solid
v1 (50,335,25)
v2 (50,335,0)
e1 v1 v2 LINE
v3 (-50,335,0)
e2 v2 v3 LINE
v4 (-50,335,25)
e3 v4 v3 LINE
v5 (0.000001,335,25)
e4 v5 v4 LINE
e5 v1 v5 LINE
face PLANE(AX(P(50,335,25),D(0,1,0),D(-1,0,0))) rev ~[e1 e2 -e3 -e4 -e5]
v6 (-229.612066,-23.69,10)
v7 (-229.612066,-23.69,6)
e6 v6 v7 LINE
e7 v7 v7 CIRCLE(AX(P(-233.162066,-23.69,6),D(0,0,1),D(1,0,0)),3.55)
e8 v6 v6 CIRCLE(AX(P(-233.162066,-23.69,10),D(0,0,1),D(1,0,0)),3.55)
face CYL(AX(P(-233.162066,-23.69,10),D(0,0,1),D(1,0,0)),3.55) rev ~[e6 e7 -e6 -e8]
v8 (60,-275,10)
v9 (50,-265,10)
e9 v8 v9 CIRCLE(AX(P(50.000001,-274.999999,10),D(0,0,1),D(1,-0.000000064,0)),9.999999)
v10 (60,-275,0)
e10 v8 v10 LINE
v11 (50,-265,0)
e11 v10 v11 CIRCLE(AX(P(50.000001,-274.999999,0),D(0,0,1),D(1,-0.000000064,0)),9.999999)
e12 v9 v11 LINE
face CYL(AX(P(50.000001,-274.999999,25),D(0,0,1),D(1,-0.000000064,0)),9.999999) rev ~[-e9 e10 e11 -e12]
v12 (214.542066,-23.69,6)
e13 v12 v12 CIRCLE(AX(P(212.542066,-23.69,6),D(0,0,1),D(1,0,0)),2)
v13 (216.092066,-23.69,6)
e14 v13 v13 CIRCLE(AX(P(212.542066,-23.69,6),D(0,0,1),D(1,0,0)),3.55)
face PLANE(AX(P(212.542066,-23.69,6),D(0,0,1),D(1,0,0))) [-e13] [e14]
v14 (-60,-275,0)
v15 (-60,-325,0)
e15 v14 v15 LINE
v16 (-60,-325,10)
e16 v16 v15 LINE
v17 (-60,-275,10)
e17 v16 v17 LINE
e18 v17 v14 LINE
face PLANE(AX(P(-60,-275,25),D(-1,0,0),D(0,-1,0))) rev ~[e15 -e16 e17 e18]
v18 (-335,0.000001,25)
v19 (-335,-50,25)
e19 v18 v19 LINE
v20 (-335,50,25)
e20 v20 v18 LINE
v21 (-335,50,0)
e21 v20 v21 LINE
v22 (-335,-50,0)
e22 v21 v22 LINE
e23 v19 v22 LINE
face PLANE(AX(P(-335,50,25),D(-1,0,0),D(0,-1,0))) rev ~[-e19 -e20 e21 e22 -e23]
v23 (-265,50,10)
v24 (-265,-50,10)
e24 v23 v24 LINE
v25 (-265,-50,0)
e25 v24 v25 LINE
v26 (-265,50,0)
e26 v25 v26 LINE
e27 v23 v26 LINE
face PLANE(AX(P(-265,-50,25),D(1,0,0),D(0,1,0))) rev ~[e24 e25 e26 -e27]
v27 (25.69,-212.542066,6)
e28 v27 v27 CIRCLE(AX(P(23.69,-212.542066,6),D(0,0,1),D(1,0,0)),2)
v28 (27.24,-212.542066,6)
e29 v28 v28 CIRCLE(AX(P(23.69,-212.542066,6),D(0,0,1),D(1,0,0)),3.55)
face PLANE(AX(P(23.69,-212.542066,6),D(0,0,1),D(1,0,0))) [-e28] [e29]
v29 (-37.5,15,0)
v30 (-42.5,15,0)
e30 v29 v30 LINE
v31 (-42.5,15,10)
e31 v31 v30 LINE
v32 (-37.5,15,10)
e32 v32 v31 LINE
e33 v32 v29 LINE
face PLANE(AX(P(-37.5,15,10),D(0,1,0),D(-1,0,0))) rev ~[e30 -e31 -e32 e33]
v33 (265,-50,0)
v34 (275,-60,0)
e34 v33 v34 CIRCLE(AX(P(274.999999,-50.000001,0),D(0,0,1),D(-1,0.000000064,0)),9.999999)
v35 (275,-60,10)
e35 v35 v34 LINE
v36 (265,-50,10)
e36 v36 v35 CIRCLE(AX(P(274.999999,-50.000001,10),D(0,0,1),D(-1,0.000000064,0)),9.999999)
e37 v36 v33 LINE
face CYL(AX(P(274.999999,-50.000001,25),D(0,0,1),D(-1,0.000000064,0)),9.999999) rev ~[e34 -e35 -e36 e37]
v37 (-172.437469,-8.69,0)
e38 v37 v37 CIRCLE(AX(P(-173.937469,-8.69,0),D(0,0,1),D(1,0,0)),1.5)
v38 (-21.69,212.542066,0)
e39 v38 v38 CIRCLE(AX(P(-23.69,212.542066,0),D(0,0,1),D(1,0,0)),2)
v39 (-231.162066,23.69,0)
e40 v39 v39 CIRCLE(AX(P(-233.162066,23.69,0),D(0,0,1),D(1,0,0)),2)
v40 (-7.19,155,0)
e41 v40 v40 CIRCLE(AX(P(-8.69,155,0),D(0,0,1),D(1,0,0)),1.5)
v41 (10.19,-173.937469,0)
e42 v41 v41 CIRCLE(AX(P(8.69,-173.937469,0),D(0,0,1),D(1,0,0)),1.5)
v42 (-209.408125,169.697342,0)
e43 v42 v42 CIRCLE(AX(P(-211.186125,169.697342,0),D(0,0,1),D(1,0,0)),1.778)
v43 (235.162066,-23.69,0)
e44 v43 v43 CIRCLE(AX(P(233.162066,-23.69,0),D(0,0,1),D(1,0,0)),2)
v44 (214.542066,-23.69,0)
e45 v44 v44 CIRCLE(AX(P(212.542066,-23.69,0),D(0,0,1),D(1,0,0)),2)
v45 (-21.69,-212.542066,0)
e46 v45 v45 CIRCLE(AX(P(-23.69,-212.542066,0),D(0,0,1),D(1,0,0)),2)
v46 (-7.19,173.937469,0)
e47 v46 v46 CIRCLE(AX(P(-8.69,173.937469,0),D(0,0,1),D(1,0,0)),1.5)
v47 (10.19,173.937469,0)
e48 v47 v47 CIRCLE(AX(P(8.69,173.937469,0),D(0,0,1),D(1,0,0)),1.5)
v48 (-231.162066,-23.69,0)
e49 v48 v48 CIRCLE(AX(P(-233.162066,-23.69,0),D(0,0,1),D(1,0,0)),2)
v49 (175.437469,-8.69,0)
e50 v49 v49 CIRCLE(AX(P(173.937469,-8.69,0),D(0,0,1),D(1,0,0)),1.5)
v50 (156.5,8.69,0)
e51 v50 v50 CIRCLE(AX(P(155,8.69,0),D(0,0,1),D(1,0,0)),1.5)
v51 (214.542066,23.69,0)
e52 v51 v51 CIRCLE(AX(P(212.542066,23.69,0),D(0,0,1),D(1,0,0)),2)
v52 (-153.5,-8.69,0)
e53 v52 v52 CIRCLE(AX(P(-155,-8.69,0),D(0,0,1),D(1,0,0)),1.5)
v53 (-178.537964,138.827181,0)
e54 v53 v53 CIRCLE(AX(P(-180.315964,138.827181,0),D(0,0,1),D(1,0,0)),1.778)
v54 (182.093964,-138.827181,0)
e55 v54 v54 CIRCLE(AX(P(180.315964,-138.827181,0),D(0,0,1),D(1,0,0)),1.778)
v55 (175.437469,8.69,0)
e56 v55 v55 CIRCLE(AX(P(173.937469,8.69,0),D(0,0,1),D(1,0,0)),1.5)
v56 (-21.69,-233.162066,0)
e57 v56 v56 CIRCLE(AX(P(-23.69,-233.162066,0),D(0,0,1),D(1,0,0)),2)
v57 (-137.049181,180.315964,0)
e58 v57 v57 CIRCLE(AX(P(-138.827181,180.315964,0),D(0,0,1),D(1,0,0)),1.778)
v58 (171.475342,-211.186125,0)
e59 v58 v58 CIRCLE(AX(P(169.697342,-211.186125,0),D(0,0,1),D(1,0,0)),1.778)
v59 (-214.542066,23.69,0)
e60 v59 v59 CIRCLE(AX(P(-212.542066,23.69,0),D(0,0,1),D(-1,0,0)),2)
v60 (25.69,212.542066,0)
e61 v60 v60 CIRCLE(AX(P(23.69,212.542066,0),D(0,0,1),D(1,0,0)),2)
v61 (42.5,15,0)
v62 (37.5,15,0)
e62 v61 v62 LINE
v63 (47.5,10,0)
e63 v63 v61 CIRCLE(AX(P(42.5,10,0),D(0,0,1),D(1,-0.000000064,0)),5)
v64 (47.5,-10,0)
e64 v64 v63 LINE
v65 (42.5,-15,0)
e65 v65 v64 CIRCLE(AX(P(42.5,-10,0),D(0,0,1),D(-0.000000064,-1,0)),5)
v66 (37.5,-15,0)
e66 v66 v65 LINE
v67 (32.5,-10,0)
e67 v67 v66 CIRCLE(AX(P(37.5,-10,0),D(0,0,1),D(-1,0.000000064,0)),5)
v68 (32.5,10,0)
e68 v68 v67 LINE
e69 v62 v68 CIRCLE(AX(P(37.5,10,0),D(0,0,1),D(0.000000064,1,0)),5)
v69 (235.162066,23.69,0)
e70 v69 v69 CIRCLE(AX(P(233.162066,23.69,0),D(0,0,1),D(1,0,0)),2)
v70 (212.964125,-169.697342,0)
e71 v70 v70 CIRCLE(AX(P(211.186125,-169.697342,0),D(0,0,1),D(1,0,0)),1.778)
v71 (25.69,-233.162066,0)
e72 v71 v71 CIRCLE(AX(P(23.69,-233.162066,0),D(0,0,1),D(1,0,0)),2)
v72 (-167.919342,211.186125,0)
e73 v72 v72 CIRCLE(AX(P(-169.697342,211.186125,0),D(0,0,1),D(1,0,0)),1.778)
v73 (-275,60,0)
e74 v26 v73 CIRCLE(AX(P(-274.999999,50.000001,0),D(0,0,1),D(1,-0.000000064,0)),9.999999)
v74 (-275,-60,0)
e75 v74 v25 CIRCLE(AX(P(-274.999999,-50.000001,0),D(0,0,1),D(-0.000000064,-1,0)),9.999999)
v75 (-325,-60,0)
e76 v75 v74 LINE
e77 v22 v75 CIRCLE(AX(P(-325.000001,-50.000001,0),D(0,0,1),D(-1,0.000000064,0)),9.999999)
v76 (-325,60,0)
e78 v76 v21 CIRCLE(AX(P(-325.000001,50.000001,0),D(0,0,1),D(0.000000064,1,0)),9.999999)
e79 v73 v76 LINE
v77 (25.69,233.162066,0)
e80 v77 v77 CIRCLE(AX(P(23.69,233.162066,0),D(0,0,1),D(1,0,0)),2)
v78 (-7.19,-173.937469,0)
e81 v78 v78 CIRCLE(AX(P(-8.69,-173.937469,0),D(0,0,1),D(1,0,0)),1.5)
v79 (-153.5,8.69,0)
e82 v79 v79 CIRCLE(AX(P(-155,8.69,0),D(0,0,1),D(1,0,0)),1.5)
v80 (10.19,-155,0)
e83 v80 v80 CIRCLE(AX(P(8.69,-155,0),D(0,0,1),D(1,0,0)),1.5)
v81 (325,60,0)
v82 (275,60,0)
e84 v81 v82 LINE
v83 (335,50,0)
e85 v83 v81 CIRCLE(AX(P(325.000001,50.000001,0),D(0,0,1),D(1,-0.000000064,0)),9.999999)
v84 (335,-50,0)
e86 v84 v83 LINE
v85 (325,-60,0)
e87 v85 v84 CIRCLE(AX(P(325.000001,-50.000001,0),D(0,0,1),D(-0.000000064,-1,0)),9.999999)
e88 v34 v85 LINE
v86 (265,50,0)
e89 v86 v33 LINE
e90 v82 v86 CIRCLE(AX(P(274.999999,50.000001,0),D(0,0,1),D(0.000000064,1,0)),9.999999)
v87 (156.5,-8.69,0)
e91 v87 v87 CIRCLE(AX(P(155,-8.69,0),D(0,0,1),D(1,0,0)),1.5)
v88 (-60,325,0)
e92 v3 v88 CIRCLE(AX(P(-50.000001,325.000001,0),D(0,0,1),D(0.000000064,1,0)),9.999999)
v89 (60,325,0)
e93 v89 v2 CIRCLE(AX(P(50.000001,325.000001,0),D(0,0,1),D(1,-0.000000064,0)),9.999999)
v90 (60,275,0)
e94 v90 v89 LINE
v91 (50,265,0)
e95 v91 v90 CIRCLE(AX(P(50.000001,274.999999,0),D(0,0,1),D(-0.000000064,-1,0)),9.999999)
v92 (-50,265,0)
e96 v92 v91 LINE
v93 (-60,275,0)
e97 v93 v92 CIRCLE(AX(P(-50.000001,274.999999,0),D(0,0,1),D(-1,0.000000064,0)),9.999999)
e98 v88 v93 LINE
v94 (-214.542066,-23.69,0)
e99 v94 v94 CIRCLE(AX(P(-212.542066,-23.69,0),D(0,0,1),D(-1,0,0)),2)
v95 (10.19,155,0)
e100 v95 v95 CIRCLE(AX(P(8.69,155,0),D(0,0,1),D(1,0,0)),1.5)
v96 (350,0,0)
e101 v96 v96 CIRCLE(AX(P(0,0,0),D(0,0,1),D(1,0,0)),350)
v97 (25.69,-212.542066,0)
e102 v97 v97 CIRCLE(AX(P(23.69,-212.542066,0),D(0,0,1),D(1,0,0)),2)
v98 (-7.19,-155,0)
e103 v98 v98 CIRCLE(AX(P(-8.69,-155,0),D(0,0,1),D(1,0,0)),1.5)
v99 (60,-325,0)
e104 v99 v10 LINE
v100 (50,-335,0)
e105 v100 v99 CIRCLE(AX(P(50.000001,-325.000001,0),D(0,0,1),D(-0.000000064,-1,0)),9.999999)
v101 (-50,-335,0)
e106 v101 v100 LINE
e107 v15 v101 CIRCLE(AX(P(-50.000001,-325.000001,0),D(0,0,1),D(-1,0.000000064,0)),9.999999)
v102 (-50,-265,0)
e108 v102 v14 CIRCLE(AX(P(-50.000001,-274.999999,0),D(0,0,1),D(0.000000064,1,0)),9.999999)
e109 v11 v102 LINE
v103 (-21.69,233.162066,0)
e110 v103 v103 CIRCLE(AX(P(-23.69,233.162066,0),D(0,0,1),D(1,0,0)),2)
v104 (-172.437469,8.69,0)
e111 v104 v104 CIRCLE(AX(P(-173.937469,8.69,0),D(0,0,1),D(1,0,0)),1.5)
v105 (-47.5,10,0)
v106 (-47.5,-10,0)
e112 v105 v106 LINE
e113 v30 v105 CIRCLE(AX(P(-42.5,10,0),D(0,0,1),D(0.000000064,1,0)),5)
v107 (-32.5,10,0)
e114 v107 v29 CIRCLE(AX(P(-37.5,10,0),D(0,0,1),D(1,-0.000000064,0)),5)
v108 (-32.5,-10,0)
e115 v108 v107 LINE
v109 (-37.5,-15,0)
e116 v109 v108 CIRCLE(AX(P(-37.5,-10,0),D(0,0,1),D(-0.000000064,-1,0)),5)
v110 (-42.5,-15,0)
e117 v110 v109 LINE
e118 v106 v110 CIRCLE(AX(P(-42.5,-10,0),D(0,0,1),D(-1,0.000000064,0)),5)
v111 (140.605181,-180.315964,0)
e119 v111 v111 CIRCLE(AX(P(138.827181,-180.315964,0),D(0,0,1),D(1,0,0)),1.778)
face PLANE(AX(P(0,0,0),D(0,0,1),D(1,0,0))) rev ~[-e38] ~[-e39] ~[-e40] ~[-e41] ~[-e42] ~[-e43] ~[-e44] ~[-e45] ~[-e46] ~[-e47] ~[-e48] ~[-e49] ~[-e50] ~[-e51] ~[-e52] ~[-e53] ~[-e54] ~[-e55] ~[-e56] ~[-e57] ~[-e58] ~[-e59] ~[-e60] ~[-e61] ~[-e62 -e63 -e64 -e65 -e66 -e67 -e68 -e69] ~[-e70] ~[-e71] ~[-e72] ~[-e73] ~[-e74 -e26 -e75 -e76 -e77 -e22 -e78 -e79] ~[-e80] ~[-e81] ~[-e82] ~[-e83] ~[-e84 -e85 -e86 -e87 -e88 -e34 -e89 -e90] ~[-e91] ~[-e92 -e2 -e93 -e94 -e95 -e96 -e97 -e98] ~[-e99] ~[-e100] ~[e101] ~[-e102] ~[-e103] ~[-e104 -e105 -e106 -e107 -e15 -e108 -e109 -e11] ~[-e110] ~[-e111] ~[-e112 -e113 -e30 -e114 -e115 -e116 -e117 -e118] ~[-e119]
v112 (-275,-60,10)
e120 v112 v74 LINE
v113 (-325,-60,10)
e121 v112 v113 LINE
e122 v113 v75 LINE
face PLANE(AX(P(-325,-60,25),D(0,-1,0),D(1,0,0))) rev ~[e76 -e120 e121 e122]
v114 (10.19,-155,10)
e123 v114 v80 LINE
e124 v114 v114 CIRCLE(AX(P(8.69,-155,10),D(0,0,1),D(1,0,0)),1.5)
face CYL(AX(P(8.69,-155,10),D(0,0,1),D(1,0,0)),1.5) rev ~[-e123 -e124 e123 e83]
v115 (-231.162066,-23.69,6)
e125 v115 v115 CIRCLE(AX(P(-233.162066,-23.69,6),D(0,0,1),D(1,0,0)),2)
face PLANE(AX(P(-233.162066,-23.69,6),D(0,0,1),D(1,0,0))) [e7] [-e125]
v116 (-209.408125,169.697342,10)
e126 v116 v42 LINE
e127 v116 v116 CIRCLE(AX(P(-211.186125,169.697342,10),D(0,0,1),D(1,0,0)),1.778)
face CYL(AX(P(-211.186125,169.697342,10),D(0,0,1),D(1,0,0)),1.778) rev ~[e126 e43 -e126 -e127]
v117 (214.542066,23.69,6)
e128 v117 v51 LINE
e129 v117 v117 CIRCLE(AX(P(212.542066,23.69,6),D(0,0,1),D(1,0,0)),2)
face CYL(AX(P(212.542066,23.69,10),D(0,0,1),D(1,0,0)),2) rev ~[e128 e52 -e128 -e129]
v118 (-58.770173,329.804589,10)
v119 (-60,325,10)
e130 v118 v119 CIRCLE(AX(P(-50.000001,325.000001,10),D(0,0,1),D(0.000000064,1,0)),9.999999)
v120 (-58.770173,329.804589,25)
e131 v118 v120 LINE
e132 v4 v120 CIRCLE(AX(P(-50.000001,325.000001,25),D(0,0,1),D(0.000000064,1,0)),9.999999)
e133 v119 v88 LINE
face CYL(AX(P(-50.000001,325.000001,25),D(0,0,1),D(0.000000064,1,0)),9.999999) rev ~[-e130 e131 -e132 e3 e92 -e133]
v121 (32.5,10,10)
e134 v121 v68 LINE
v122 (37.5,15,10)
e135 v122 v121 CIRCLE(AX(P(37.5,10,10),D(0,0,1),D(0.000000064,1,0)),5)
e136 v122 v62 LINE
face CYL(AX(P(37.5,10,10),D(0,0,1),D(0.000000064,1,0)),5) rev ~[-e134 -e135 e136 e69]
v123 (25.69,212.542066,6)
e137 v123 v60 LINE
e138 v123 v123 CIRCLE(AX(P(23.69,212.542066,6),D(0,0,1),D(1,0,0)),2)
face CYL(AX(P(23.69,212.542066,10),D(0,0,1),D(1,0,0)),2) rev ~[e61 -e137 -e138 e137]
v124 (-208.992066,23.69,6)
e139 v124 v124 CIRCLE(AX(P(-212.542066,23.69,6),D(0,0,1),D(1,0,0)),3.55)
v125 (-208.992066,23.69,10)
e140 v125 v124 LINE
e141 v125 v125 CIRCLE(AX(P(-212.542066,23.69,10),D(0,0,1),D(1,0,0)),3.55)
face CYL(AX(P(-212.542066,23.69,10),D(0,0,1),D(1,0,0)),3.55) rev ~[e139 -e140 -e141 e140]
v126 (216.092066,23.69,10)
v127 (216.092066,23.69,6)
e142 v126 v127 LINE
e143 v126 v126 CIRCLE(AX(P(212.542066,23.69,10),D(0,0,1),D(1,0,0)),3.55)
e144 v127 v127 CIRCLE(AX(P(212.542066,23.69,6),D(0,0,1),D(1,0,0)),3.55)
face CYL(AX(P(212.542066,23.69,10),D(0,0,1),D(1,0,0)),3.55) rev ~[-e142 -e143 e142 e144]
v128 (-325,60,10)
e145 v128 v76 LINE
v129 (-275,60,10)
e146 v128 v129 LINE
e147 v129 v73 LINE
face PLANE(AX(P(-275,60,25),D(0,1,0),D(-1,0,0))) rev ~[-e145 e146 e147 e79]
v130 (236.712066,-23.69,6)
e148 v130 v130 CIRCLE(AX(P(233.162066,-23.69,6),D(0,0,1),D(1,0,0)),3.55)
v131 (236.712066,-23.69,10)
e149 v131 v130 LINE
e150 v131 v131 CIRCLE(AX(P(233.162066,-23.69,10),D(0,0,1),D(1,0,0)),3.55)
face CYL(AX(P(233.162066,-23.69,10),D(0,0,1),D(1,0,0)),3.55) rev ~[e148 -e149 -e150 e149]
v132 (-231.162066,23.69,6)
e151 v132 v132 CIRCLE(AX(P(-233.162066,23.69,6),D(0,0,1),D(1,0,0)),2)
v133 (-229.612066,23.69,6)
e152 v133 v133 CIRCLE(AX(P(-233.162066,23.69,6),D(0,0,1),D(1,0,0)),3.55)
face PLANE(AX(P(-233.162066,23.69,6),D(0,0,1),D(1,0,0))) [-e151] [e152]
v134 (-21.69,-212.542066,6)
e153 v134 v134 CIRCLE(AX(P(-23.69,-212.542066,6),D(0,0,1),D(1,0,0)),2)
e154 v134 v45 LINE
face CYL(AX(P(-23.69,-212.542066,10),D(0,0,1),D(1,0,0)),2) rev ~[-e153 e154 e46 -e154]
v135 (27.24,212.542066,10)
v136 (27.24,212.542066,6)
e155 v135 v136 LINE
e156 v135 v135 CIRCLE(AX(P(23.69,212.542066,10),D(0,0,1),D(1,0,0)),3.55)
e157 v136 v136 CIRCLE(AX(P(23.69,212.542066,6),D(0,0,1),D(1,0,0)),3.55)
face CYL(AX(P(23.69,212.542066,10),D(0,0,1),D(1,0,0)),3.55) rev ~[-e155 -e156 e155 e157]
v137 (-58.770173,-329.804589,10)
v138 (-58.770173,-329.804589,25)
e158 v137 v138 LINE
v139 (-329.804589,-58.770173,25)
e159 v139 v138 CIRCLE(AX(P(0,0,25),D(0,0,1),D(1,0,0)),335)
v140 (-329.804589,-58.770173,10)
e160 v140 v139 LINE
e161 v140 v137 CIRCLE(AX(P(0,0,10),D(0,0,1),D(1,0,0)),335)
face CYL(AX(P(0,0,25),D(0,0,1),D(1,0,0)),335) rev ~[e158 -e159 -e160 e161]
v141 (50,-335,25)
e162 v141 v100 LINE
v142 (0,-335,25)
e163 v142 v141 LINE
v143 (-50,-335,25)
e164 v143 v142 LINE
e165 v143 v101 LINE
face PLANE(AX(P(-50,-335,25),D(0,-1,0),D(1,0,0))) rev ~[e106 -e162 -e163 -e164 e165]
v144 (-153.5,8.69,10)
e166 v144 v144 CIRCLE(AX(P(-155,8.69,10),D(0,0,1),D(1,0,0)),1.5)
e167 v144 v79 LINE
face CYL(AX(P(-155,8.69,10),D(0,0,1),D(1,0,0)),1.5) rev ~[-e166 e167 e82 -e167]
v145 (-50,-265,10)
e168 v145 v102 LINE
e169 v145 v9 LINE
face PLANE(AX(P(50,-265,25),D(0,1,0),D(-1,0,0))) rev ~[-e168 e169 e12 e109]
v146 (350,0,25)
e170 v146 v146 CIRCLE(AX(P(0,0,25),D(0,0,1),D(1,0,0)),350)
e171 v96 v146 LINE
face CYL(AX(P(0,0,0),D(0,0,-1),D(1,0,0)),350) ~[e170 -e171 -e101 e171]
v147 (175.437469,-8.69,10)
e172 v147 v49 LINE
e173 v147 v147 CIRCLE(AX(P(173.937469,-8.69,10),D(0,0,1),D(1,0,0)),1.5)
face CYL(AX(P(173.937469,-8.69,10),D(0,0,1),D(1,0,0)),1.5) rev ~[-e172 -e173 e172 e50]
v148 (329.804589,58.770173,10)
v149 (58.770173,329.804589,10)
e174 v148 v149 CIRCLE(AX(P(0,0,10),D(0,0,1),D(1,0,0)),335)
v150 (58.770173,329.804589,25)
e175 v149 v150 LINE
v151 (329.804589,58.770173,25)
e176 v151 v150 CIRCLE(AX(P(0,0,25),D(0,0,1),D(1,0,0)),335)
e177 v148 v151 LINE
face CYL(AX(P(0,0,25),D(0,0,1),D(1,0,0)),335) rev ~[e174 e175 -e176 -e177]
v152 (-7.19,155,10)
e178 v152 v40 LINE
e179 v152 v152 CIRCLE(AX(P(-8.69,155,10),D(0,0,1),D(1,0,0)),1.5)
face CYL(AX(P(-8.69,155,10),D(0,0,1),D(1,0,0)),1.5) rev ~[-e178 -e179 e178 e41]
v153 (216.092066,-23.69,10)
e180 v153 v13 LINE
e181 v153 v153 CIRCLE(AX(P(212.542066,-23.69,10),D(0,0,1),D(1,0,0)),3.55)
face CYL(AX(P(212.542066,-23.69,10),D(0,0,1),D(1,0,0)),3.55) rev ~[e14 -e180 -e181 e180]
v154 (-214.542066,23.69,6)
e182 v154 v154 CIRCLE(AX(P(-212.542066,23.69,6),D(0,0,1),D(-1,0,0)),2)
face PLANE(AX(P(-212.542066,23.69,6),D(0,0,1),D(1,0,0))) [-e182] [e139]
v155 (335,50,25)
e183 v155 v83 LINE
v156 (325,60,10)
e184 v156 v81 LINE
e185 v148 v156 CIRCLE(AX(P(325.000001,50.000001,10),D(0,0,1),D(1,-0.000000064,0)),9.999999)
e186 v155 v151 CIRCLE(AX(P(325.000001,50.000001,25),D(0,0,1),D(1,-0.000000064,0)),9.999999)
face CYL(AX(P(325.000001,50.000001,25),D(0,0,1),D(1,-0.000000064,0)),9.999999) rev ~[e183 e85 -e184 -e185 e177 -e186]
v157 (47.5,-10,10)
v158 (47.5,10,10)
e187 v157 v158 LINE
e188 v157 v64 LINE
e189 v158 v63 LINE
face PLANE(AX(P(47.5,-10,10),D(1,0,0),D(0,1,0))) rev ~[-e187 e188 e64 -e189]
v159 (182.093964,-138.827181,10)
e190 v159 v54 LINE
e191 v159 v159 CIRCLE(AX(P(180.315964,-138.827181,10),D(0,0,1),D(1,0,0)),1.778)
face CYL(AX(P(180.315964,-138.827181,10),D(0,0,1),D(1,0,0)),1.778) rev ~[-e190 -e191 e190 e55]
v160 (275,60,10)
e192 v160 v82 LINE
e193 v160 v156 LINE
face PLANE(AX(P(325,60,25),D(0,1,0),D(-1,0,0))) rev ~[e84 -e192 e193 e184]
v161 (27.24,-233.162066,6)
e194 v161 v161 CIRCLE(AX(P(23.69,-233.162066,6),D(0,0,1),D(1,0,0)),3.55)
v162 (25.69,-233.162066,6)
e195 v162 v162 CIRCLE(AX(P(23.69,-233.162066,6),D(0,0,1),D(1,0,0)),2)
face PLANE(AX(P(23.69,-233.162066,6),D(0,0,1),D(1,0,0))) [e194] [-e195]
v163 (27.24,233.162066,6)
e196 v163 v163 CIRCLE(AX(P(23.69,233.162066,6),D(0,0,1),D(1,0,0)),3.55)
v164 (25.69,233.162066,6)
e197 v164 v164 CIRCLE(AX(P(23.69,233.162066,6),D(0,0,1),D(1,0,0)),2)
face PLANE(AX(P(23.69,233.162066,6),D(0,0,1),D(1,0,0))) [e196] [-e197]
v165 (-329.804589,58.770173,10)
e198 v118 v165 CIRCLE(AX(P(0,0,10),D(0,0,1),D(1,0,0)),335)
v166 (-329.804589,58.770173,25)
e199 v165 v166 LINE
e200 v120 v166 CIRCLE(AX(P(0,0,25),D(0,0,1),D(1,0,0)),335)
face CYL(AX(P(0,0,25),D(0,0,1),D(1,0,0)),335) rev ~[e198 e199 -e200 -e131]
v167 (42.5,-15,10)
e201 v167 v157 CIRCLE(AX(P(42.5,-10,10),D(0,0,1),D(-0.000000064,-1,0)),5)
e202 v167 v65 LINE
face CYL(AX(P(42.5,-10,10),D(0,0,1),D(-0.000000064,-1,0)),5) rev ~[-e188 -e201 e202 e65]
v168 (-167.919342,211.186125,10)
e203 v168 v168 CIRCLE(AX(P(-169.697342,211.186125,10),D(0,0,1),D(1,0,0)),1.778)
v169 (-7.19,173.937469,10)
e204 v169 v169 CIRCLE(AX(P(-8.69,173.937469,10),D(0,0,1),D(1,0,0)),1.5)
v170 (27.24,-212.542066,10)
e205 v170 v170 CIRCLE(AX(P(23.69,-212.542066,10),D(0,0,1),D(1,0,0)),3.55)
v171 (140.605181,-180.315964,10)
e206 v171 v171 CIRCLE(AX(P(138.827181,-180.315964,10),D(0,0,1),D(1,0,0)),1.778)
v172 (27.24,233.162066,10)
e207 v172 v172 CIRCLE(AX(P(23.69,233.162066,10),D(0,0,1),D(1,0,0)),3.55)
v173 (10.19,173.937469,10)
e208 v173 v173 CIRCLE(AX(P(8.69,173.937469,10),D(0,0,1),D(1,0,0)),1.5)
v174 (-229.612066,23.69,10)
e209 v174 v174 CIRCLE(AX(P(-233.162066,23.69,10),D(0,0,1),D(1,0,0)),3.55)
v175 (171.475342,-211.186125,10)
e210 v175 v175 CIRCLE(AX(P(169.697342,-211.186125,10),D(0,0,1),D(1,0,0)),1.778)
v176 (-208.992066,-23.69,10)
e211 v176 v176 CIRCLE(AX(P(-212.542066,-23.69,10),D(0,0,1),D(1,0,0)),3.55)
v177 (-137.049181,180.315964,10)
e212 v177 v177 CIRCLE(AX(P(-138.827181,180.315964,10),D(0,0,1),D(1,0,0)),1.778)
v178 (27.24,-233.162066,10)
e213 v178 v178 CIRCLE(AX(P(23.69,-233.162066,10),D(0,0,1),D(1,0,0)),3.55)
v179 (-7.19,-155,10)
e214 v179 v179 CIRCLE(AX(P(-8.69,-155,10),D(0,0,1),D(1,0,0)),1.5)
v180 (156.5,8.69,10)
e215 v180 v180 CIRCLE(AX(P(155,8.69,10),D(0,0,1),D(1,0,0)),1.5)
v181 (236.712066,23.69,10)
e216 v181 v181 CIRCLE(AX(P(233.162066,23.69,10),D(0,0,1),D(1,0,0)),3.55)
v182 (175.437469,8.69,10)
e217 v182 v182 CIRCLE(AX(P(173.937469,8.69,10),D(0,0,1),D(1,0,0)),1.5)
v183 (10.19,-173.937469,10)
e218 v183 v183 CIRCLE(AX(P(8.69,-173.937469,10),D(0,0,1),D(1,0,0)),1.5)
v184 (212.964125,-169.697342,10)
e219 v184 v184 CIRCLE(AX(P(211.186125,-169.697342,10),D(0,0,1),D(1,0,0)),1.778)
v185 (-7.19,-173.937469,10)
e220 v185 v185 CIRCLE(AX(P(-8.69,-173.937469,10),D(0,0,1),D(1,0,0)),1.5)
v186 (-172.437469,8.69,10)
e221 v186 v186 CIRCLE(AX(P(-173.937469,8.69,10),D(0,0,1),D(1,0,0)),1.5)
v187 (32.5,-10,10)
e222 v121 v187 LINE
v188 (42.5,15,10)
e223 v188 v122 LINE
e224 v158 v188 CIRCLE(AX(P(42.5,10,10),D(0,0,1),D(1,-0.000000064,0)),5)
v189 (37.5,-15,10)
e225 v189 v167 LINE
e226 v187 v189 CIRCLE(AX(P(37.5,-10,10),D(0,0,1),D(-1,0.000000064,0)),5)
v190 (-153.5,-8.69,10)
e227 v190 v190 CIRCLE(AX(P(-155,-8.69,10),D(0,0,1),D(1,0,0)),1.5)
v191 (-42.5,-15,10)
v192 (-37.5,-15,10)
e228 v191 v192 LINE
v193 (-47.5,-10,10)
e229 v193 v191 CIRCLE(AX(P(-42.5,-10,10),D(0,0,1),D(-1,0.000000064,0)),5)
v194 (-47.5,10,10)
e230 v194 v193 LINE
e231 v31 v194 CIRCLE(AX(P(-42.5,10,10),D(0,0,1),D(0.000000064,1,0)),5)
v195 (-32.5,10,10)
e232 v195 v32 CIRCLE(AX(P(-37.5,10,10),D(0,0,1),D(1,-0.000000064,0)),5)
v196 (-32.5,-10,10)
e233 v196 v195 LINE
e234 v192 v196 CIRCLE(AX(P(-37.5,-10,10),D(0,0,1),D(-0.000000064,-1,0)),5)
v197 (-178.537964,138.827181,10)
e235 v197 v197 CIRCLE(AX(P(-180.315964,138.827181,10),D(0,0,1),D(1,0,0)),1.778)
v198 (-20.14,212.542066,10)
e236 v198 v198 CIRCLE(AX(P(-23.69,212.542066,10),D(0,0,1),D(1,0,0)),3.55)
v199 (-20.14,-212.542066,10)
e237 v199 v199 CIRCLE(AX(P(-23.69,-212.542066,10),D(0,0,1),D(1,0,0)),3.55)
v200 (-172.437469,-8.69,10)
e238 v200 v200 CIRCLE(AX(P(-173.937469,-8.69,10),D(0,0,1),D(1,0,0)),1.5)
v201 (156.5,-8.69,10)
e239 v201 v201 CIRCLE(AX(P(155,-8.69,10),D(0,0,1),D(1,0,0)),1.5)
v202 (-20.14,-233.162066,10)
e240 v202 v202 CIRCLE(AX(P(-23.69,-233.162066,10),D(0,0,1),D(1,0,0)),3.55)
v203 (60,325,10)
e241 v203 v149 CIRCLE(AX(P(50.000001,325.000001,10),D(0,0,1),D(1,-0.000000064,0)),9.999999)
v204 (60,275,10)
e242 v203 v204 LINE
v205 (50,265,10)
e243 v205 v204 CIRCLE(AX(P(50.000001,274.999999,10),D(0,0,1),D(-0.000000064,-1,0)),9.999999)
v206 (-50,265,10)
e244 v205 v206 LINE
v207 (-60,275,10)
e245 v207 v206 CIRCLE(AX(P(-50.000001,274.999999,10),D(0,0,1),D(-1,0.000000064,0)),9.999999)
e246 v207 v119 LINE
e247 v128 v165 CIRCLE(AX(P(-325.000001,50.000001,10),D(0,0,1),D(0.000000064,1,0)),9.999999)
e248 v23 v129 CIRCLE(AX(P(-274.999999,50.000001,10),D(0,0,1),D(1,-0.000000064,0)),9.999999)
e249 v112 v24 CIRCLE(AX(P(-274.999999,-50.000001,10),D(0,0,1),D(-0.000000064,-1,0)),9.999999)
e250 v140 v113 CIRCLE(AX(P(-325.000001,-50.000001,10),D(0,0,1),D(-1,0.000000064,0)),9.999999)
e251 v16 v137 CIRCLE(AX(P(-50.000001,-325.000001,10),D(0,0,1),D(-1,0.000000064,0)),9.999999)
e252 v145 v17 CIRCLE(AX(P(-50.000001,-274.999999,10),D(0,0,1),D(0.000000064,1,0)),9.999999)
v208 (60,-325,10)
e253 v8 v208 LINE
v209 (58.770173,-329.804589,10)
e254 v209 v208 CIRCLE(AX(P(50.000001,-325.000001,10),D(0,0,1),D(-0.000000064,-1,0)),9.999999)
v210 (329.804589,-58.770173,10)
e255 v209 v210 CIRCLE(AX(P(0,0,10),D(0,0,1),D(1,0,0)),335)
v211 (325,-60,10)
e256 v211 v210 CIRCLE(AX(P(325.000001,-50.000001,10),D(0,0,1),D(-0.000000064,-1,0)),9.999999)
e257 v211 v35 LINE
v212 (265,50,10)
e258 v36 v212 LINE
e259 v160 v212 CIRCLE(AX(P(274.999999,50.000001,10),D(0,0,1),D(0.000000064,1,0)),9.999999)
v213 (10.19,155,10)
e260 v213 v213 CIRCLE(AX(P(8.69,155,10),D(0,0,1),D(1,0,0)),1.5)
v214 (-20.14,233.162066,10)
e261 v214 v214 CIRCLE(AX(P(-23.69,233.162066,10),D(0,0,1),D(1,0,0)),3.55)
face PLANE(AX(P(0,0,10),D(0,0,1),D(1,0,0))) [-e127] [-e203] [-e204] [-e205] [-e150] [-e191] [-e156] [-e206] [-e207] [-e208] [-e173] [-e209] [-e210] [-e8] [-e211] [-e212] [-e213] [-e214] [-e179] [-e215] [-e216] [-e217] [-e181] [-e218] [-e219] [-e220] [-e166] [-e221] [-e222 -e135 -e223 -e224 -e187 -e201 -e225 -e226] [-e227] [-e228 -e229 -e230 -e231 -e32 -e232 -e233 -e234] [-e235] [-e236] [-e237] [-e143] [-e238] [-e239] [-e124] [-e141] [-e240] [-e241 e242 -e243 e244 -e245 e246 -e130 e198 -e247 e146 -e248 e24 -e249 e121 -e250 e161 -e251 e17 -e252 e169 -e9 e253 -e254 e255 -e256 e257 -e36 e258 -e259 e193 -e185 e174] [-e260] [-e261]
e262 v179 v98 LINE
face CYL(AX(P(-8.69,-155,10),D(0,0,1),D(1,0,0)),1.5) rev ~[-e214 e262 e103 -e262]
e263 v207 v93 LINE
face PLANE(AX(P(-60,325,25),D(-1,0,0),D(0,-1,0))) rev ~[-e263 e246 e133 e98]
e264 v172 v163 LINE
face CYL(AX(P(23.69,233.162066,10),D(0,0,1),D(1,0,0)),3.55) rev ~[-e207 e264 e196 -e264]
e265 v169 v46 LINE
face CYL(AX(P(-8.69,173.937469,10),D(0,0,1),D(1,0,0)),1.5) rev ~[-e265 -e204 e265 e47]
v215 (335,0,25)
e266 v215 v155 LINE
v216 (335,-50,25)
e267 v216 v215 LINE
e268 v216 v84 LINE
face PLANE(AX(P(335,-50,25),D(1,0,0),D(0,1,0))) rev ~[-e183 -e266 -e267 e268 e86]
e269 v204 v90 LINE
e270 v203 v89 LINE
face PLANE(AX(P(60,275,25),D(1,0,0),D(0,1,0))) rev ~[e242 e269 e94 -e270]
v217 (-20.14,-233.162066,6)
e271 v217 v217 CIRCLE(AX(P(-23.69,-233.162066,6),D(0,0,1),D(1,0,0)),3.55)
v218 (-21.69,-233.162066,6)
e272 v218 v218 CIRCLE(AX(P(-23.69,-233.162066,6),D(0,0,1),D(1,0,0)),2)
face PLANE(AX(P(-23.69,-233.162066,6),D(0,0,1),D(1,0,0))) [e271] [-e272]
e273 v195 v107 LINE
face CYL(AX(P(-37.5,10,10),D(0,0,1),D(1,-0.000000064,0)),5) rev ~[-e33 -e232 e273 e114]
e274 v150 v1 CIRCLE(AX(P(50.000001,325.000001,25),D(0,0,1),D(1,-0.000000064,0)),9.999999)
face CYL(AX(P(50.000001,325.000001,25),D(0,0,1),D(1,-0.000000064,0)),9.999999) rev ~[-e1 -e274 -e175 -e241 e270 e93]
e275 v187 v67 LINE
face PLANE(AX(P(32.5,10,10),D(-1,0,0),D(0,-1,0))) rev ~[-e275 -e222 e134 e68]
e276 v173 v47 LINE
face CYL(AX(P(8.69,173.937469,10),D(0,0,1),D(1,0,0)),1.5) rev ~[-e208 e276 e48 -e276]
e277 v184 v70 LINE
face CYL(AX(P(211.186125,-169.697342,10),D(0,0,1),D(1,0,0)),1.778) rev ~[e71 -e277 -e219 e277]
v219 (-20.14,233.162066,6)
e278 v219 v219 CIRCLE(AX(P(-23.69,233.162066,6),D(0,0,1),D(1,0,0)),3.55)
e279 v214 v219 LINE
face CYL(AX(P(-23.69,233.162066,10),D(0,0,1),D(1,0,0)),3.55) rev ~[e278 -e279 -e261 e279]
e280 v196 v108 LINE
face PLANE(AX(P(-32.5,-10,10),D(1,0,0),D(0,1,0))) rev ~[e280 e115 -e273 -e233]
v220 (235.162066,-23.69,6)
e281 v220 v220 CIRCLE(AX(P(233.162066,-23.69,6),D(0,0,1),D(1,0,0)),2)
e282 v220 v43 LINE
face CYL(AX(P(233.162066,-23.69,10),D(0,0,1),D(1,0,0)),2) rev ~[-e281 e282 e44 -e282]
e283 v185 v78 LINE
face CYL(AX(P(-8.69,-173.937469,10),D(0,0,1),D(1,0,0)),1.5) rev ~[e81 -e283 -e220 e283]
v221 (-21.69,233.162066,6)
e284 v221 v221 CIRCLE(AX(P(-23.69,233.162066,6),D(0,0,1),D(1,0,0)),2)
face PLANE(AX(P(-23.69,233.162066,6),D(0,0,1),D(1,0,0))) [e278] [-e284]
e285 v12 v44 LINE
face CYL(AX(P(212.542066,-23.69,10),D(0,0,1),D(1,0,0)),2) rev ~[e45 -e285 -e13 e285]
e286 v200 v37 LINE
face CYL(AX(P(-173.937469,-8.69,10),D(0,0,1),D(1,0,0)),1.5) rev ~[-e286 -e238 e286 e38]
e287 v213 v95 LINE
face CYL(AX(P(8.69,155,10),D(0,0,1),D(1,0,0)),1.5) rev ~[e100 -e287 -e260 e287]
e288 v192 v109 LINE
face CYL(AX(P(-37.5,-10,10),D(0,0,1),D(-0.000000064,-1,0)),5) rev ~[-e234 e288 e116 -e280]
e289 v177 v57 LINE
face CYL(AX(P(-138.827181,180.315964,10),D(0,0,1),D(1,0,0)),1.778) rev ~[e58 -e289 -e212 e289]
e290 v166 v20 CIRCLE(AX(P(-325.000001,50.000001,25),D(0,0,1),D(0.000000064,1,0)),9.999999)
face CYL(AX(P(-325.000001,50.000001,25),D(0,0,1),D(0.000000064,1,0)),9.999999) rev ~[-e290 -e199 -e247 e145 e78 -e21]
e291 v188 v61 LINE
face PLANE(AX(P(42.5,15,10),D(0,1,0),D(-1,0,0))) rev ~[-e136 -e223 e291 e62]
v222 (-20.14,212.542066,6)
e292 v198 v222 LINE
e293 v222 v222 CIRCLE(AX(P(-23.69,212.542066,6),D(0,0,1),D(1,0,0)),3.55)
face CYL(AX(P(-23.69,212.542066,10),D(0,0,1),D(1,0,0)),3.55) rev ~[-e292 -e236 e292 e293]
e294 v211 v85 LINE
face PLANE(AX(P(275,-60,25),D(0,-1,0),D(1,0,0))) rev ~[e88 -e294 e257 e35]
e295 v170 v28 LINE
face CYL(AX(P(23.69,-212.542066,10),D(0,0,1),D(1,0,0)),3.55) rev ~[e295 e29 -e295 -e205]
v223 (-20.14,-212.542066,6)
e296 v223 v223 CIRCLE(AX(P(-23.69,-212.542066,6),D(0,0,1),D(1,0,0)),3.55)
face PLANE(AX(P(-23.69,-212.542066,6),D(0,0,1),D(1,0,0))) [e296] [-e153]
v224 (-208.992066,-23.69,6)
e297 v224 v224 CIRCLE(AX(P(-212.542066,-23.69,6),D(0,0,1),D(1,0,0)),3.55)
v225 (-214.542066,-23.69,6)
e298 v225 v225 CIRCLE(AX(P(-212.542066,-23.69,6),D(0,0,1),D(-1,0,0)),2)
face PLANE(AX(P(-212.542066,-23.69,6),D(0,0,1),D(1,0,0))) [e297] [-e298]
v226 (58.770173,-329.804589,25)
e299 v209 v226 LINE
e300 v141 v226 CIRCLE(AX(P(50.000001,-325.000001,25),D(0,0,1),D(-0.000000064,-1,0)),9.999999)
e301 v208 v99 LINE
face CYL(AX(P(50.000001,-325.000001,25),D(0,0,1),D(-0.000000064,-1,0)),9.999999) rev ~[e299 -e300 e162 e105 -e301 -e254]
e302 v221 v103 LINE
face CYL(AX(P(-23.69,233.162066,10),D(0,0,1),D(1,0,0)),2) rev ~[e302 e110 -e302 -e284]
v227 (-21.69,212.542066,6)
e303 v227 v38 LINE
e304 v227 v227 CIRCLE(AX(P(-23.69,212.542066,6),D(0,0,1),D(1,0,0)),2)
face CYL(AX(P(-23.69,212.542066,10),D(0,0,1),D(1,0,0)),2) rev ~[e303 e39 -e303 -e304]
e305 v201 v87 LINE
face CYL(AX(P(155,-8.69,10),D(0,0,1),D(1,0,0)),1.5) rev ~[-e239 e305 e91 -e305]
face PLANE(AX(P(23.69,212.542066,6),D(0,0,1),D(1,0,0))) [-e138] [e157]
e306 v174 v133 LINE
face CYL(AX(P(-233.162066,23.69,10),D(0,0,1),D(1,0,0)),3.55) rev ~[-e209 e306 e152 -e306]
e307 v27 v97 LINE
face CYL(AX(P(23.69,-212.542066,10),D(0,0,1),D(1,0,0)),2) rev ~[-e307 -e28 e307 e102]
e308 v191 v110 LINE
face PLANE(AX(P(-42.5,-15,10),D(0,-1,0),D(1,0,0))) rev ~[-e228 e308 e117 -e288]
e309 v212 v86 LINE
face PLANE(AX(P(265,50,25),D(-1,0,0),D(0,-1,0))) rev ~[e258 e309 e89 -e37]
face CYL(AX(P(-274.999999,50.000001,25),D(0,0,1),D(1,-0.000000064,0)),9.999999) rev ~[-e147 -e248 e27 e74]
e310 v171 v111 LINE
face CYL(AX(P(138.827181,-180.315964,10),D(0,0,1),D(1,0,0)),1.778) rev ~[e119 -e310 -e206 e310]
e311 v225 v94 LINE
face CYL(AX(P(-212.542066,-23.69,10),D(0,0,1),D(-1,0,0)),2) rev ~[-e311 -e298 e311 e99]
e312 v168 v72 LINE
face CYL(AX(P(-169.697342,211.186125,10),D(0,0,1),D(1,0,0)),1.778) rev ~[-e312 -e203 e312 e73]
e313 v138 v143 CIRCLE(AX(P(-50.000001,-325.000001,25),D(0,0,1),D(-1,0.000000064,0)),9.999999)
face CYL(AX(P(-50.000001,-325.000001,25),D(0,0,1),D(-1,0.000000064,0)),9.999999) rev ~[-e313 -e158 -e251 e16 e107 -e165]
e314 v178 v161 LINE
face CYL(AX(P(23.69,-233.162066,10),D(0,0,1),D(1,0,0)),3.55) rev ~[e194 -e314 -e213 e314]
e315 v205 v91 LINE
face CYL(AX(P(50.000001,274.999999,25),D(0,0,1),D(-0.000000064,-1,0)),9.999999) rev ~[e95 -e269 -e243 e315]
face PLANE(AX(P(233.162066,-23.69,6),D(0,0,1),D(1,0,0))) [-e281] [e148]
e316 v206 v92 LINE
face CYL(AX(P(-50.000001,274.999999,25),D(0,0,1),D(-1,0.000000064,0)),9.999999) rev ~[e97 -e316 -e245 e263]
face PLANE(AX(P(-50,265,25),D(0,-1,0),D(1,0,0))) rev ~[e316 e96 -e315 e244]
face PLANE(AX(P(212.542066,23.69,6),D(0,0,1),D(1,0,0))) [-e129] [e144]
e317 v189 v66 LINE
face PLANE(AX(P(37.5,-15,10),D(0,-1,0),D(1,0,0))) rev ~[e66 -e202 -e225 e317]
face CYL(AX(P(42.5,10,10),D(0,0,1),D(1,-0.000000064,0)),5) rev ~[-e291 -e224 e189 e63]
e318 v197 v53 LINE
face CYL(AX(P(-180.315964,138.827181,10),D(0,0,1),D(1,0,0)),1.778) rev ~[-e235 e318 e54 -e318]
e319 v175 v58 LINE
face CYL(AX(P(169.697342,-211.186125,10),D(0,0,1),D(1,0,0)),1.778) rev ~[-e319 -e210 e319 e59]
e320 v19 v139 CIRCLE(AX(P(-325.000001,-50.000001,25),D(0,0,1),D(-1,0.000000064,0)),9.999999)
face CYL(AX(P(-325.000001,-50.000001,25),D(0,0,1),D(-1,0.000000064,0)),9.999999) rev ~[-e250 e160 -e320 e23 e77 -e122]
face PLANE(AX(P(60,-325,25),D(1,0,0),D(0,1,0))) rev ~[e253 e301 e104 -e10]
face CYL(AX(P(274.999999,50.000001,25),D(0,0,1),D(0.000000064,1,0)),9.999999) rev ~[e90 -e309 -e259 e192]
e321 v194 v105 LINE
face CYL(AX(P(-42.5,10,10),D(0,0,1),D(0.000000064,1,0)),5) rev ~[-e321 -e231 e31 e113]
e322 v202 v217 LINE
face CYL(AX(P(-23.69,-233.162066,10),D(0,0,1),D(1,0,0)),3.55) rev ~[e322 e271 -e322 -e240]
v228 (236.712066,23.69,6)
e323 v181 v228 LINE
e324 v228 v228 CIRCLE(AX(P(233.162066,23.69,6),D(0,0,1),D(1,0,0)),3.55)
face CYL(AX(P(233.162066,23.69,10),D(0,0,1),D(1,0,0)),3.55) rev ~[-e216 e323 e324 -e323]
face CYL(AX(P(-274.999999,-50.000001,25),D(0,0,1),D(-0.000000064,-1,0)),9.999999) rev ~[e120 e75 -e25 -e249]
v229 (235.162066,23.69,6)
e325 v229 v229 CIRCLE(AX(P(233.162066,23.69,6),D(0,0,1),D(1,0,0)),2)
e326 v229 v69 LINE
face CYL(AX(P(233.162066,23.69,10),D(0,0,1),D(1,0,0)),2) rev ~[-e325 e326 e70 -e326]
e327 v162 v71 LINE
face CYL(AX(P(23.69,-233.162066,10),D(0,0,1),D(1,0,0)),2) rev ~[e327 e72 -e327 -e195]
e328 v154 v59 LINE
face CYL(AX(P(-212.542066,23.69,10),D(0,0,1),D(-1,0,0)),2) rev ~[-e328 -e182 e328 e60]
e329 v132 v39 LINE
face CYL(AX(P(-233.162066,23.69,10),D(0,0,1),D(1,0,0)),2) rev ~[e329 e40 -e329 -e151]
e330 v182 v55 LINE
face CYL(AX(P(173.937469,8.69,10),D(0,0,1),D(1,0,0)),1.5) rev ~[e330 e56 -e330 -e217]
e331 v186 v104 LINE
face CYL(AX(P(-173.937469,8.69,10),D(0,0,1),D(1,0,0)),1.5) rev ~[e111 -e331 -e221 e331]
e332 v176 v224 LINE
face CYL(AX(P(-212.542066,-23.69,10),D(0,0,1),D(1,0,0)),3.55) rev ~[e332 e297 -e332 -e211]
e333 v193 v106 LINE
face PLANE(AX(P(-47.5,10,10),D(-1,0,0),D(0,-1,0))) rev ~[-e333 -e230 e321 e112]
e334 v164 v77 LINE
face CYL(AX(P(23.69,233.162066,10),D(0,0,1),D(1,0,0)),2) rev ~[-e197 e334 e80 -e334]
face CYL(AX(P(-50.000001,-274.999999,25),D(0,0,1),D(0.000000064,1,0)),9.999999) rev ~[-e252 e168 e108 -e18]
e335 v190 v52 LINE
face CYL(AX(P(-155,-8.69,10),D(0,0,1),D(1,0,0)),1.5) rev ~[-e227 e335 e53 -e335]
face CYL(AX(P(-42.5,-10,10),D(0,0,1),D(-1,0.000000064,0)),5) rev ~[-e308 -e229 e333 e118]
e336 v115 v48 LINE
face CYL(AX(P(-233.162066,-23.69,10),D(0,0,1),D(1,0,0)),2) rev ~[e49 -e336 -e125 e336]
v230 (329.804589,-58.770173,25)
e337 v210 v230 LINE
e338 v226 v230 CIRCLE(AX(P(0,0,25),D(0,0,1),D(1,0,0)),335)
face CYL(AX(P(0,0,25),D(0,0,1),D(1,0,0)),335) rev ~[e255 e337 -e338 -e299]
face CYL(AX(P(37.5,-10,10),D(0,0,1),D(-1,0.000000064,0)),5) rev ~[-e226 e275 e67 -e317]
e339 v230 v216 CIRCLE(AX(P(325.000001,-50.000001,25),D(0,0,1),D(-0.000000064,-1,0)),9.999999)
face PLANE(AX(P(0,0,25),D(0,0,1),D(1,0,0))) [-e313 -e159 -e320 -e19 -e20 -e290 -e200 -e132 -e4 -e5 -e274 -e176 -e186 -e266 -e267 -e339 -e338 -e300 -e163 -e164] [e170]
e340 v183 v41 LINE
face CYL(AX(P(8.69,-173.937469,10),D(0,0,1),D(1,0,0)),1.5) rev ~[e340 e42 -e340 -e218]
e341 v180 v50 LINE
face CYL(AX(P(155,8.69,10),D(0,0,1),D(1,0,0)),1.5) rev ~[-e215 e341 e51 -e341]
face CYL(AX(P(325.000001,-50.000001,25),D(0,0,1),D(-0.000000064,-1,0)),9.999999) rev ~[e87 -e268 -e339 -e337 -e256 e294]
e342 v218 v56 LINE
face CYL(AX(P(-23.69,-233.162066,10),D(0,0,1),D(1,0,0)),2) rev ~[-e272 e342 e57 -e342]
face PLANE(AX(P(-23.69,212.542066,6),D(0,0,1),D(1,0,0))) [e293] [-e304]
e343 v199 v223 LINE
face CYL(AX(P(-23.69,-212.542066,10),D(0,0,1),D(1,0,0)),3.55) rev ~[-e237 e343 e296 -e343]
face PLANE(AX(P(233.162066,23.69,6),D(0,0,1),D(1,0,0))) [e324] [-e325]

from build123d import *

# Parameters (mm, degrees)
F0_R      = 350
F1_DEPTH  = 25
F3_DEPTH  = 25
F4_R      = 335
F5_DEPTH  = 15
F6_R      = 2
F6_R_2    = 1.5
F7_DEPTH  = 25
F8_R      = 3.55
F9_DEPTH  = 4
F11_DEPTH = 25
F12_R     = 1.778
F13_DEPTH = 25


with BuildPart() as f1:
    # F0 (on Top) → F1 (new body)
    with BuildSketch(Plane.XY):
        Circle(F0_R)
    extrude(amount=F1_DEPTH)

    # F2 (on face) → F3 (cut)
    with BuildSketch(Plane.XY.offset(25)):
        with BuildLine():
            Line((50, 335), (0, 335))
            Line((0, 335), (0, 265))
            Line((0, 265), (50, 265))
            ThreePointArc((50, 265), (57.071068, 267.928932), (60, 275))
            Line((60, 275), (60, 325))
            ThreePointArc((60, 325), (57.071068, 332.071068), (50, 335))
        make_face()
        with BuildLine():
            Line((265, 50), (265, 0))
            Line((265, 0), (335, 0))
            Line((335, 0), (335, 50))
            ThreePointArc((335, 50), (332.071068, 57.071068), (325, 60))
            Line((325, 60), (275, 60))
            ThreePointArc((275, 60), (267.928932, 57.071068), (265, 50))
        make_face()
        with BuildLine():
            Line((335, 0), (265, 0))
            Line((265, 0), (265, -50))
            ThreePointArc((265, -50), (267.928932, -57.071068), (275, -60))
            Line((275, -60), (325, -60))
            ThreePointArc((325, -60), (332.071068, -57.071068), (335, -50))
            Line((335, -50), (335, 0))
        make_face()
        with BuildLine():
            Line((50, -265), (0, -265))
            Line((0, -265), (0, -335))
            Line((0, -335), (50, -335))
            ThreePointArc((50, -335), (57.071068, -332.071068), (60, -325))
            Line((60, -325), (60, -275))
            ThreePointArc((60, -275), (57.071068, -267.928932), (50, -265))
        make_face()
        with BuildLine():
            Line((0, -335), (0, -265))
            Line((0, -265), (-50, -265))
            ThreePointArc((-50, -265), (-57.071068, -267.928932), (-60, -275))
            Line((-60, -275), (-60, -325))
            ThreePointArc((-60, -325), (-57.071068, -332.071068), (-50, -335))
            Line((-50, -335), (0, -335))
        make_face()
        with BuildLine():
            Line((-265, -50), (-265, 0))
            Line((-265, 0), (-335, 0))
            Line((-335, 0), (-335, -50))
            ThreePointArc((-335, -50), (-332.071068, -57.071068), (-325, -60))
            Line((-325, -60), (-275, -60))
            ThreePointArc((-275, -60), (-267.928932, -57.071068), (-265, -50))
        make_face()
        with BuildLine():
            Line((-335, 0), (-265, 0))
            Line((-265, 0), (-265, 50))
            ThreePointArc((-265, 50), (-267.928932, 57.071068), (-275, 60))
            Line((-275, 60), (-325, 60))
            ThreePointArc((-325, 60), (-332.071068, 57.071068), (-335, 50))
            Line((-335, 50), (-335, 0))
        make_face()
        with BuildLine():
            Line((0, 265), (0, 335))
            Line((0, 335), (-50, 335))
            ThreePointArc((-50, 335), (-57.071068, 332.071068), (-60, 325))
            Line((-60, 325), (-60, 275))
            ThreePointArc((-60, 275), (-57.071068, 267.928932), (-50, 265))
            Line((-50, 265), (0, 265))
        make_face()
    extrude(amount=-F3_DEPTH, mode=Mode.SUBTRACT)

    # F4 (on face) → F5 (cut)
    with BuildSketch(Plane.XY.offset(25)):
        Circle(F4_R)
    extrude(amount=-F5_DEPTH, mode=Mode.SUBTRACT)

    # F6 (on face) → F7 (cut)
    with BuildSketch(Plane.XY.offset(10)):
        with Locations((-233.162066, 23.69)):
            Circle(F6_R)
        with BuildLine():
            Line((-214.542066, 23.69), (-210.542066, 23.69))
            ThreePointArc((-210.542066, 23.69), (-212.542066, 25.69), (-214.542066, 23.69))
        make_face()
        with BuildLine():
            ThreePointArc((-214.542066, 23.69), (-212.542066, 21.69), (-210.542066, 23.69))
            Line((-210.542066, 23.69), (-214.542066, 23.69))
        make_face()
        with Locations((-233.162066, -23.69)):
            Circle(F6_R)
        with BuildLine():
            Line((-214.542066, -23.69), (-210.542066, -23.69))
            ThreePointArc((-210.542066, -23.69), (-212.542066, -21.69), (-214.542066, -23.69))
        make_face()
        with BuildLine():
            ThreePointArc((-214.542066, -23.69), (-212.542066, -25.69), (-210.542066, -23.69))
            Line((-210.542066, -23.69), (-214.542066, -23.69))
        make_face()
        with Locations((-23.69, -233.162066)):
            Circle(F6_R)
        with Locations((-23.69, -212.542066)):
            Circle(F6_R)
        with Locations((23.69, -212.542066)):
            Circle(F6_R)
        with Locations((23.69, -233.162066)):
            Circle(F6_R)
        with Locations((233.162066, -23.69)):
            Circle(F6_R)
        with Locations((212.542066, -23.69)):
            Circle(F6_R)
        with Locations((212.542066, 23.69)):
            Circle(F6_R)
        with Locations((233.162066, 23.69)):
            Circle(F6_R)
        with Locations((23.69, 233.162066)):
            Circle(F6_R)
        with Locations((23.69, 212.542066)):
            Circle(F6_R)
        with Locations((-23.69, 212.542066)):
            Circle(F6_R)
        with Locations((-23.69, 233.162066)):
            Circle(F6_R)
        with Locations((-173.937469, 8.69)):
            Circle(F6_R_2)
        with Locations((-173.937469, -8.69)):
            Circle(F6_R_2)
        with Locations((-155, 8.69)):
            Circle(F6_R_2)
        with Locations((-8.69, -173.937469)):
            Circle(F6_R_2)
        with Locations((-8.69, -155)):
            Circle(F6_R_2)
        with Locations((8.69, -173.937469)):
            Circle(F6_R_2)
        with Locations((173.937469, -8.69)):
            Circle(F6_R_2)
        with Locations((155, -8.69)):
            Circle(F6_R_2)
        with Locations((173.937469, 8.69)):
            Circle(F6_R_2)
        with Locations((8.69, 173.937469)):
            Circle(F6_R_2)
        with Locations((8.69, 155)):
            Circle(F6_R_2)
        with Locations((-8.69, 173.937469)):
            Circle(F6_R_2)
        with Locations((-155, -8.69)):
            Circle(F6_R_2)
        with Locations((8.69, -155)):
            Circle(F6_R_2)
        with Locations((155, 8.69)):
            Circle(F6_R_2)
        with Locations((-8.69, 155)):
            Circle(F6_R_2)
    extrude(amount=-F7_DEPTH, mode=Mode.SUBTRACT)

    # F8 (on face) → F9 (cut)
    with BuildSketch(Plane.XY.offset(10)):
        with Locations((23.69, 233.162066)):
            Circle(F8_R)
        with Locations((23.69, 212.542066)):
            Circle(F8_R)
        with Locations((-23.69, 233.162066)):
            Circle(F8_R)
        with Locations((-23.69, 212.542066)):
            Circle(F8_R)
        with Locations((-212.542066, 23.69)):
            Circle(F8_R)
        with Locations((-233.162066, 23.69)):
            Circle(F8_R)
        with Locations((-233.162066, -23.69)):
            Circle(F8_R)
        with Locations((-212.542066, -23.69)):
            Circle(F8_R)
        with Locations((-23.69, -212.542066)):
            Circle(F8_R)
        with Locations((-23.69, -233.162066)):
            Circle(F8_R)
        with Locations((23.69, -233.162066)):
            Circle(F8_R)
        with Locations((23.69, -212.542066)):
            Circle(F8_R)
        with Locations((212.542066, -23.69)):
            Circle(F8_R)
        with Locations((233.162066, -23.69)):
            Circle(F8_R)
        with Locations((233.162066, 23.69)):
            Circle(F8_R)
        with Locations((212.542066, 23.69)):
            Circle(F8_R)
    extrude(amount=-F9_DEPTH, mode=Mode.SUBTRACT)

    # F10 (on face) → F11 (cut)
    with BuildSketch(Plane.XY.offset(10)):
        with BuildLine():
            Line((-47.5, 10), (-47.5, 0))
            Line((-47.5, 0), (-32.5, 0))
            Line((-32.5, 0), (-32.5, 10))
            ThreePointArc((-32.5, 10), (-33.964466, 13.535534), (-37.5, 15))
            Line((-37.5, 15), (-42.5, 15))
            ThreePointArc((-42.5, 15), (-46.035534, 13.535534), (-47.5, 10))
        make_face()
        with BuildLine():
            Line((-32.5, 0), (-47.5, 0))
            Line((-47.5, 0), (-47.5, -10))
            ThreePointArc((-47.5, -10), (-46.035534, -13.535534), (-42.5, -15))
            Line((-42.5, -15), (-37.5, -15))
            ThreePointArc((-37.5, -15), (-33.964466, -13.535534), (-32.5, -10))
            Line((-32.5, -10), (-32.5, 0))
        make_face()
        with BuildLine():
            Line((32.5, 10), (32.5, 0))
            Line((32.5, 0), (47.5, 0))
            Line((47.5, 0), (47.5, 10))
            ThreePointArc((47.5, 10), (46.035534, 13.535534), (42.5, 15))
            Line((42.5, 15), (37.5, 15))
            ThreePointArc((37.5, 15), (33.964466, 13.535534), (32.5, 10))
        make_face()
        with BuildLine():
            Line((47.5, 0), (32.5, 0))
            Line((32.5, 0), (32.5, -10))
            ThreePointArc((32.5, -10), (33.964466, -13.535534), (37.5, -15))
            Line((37.5, -15), (42.5, -15))
            ThreePointArc((42.5, -15), (46.035534, -13.535534), (47.5, -10))
            Line((47.5, -10), (47.5, 0))
        make_face()
    extrude(amount=-F11_DEPTH, mode=Mode.SUBTRACT)

    # F12 (on face) → F13 (cut)
    with BuildSketch(Plane.XY.offset(10)):
        with Locations((-169.697342, 211.186125)):
            Circle(F12_R)
        with Locations((-211.186125, 169.697342)):
            Circle(F12_R)
        with Locations((-180.315964, 138.827181)):
            Circle(F12_R)
        with Locations((-138.827181, 180.315964)):
            Circle(F12_R)
        with Locations((211.186125, -169.697342)):
            Circle(F12_R)
        with Locations((180.315964, -138.827181)):
            Circle(F12_R)
        with Locations((138.827181, -180.315964)):
            Circle(F12_R)
        with Locations((169.697342, -211.186125)):
            Circle(F12_R)
    extrude(amount=-F13_DEPTH, mode=Mode.SUBTRACT)


solid = f1.part
